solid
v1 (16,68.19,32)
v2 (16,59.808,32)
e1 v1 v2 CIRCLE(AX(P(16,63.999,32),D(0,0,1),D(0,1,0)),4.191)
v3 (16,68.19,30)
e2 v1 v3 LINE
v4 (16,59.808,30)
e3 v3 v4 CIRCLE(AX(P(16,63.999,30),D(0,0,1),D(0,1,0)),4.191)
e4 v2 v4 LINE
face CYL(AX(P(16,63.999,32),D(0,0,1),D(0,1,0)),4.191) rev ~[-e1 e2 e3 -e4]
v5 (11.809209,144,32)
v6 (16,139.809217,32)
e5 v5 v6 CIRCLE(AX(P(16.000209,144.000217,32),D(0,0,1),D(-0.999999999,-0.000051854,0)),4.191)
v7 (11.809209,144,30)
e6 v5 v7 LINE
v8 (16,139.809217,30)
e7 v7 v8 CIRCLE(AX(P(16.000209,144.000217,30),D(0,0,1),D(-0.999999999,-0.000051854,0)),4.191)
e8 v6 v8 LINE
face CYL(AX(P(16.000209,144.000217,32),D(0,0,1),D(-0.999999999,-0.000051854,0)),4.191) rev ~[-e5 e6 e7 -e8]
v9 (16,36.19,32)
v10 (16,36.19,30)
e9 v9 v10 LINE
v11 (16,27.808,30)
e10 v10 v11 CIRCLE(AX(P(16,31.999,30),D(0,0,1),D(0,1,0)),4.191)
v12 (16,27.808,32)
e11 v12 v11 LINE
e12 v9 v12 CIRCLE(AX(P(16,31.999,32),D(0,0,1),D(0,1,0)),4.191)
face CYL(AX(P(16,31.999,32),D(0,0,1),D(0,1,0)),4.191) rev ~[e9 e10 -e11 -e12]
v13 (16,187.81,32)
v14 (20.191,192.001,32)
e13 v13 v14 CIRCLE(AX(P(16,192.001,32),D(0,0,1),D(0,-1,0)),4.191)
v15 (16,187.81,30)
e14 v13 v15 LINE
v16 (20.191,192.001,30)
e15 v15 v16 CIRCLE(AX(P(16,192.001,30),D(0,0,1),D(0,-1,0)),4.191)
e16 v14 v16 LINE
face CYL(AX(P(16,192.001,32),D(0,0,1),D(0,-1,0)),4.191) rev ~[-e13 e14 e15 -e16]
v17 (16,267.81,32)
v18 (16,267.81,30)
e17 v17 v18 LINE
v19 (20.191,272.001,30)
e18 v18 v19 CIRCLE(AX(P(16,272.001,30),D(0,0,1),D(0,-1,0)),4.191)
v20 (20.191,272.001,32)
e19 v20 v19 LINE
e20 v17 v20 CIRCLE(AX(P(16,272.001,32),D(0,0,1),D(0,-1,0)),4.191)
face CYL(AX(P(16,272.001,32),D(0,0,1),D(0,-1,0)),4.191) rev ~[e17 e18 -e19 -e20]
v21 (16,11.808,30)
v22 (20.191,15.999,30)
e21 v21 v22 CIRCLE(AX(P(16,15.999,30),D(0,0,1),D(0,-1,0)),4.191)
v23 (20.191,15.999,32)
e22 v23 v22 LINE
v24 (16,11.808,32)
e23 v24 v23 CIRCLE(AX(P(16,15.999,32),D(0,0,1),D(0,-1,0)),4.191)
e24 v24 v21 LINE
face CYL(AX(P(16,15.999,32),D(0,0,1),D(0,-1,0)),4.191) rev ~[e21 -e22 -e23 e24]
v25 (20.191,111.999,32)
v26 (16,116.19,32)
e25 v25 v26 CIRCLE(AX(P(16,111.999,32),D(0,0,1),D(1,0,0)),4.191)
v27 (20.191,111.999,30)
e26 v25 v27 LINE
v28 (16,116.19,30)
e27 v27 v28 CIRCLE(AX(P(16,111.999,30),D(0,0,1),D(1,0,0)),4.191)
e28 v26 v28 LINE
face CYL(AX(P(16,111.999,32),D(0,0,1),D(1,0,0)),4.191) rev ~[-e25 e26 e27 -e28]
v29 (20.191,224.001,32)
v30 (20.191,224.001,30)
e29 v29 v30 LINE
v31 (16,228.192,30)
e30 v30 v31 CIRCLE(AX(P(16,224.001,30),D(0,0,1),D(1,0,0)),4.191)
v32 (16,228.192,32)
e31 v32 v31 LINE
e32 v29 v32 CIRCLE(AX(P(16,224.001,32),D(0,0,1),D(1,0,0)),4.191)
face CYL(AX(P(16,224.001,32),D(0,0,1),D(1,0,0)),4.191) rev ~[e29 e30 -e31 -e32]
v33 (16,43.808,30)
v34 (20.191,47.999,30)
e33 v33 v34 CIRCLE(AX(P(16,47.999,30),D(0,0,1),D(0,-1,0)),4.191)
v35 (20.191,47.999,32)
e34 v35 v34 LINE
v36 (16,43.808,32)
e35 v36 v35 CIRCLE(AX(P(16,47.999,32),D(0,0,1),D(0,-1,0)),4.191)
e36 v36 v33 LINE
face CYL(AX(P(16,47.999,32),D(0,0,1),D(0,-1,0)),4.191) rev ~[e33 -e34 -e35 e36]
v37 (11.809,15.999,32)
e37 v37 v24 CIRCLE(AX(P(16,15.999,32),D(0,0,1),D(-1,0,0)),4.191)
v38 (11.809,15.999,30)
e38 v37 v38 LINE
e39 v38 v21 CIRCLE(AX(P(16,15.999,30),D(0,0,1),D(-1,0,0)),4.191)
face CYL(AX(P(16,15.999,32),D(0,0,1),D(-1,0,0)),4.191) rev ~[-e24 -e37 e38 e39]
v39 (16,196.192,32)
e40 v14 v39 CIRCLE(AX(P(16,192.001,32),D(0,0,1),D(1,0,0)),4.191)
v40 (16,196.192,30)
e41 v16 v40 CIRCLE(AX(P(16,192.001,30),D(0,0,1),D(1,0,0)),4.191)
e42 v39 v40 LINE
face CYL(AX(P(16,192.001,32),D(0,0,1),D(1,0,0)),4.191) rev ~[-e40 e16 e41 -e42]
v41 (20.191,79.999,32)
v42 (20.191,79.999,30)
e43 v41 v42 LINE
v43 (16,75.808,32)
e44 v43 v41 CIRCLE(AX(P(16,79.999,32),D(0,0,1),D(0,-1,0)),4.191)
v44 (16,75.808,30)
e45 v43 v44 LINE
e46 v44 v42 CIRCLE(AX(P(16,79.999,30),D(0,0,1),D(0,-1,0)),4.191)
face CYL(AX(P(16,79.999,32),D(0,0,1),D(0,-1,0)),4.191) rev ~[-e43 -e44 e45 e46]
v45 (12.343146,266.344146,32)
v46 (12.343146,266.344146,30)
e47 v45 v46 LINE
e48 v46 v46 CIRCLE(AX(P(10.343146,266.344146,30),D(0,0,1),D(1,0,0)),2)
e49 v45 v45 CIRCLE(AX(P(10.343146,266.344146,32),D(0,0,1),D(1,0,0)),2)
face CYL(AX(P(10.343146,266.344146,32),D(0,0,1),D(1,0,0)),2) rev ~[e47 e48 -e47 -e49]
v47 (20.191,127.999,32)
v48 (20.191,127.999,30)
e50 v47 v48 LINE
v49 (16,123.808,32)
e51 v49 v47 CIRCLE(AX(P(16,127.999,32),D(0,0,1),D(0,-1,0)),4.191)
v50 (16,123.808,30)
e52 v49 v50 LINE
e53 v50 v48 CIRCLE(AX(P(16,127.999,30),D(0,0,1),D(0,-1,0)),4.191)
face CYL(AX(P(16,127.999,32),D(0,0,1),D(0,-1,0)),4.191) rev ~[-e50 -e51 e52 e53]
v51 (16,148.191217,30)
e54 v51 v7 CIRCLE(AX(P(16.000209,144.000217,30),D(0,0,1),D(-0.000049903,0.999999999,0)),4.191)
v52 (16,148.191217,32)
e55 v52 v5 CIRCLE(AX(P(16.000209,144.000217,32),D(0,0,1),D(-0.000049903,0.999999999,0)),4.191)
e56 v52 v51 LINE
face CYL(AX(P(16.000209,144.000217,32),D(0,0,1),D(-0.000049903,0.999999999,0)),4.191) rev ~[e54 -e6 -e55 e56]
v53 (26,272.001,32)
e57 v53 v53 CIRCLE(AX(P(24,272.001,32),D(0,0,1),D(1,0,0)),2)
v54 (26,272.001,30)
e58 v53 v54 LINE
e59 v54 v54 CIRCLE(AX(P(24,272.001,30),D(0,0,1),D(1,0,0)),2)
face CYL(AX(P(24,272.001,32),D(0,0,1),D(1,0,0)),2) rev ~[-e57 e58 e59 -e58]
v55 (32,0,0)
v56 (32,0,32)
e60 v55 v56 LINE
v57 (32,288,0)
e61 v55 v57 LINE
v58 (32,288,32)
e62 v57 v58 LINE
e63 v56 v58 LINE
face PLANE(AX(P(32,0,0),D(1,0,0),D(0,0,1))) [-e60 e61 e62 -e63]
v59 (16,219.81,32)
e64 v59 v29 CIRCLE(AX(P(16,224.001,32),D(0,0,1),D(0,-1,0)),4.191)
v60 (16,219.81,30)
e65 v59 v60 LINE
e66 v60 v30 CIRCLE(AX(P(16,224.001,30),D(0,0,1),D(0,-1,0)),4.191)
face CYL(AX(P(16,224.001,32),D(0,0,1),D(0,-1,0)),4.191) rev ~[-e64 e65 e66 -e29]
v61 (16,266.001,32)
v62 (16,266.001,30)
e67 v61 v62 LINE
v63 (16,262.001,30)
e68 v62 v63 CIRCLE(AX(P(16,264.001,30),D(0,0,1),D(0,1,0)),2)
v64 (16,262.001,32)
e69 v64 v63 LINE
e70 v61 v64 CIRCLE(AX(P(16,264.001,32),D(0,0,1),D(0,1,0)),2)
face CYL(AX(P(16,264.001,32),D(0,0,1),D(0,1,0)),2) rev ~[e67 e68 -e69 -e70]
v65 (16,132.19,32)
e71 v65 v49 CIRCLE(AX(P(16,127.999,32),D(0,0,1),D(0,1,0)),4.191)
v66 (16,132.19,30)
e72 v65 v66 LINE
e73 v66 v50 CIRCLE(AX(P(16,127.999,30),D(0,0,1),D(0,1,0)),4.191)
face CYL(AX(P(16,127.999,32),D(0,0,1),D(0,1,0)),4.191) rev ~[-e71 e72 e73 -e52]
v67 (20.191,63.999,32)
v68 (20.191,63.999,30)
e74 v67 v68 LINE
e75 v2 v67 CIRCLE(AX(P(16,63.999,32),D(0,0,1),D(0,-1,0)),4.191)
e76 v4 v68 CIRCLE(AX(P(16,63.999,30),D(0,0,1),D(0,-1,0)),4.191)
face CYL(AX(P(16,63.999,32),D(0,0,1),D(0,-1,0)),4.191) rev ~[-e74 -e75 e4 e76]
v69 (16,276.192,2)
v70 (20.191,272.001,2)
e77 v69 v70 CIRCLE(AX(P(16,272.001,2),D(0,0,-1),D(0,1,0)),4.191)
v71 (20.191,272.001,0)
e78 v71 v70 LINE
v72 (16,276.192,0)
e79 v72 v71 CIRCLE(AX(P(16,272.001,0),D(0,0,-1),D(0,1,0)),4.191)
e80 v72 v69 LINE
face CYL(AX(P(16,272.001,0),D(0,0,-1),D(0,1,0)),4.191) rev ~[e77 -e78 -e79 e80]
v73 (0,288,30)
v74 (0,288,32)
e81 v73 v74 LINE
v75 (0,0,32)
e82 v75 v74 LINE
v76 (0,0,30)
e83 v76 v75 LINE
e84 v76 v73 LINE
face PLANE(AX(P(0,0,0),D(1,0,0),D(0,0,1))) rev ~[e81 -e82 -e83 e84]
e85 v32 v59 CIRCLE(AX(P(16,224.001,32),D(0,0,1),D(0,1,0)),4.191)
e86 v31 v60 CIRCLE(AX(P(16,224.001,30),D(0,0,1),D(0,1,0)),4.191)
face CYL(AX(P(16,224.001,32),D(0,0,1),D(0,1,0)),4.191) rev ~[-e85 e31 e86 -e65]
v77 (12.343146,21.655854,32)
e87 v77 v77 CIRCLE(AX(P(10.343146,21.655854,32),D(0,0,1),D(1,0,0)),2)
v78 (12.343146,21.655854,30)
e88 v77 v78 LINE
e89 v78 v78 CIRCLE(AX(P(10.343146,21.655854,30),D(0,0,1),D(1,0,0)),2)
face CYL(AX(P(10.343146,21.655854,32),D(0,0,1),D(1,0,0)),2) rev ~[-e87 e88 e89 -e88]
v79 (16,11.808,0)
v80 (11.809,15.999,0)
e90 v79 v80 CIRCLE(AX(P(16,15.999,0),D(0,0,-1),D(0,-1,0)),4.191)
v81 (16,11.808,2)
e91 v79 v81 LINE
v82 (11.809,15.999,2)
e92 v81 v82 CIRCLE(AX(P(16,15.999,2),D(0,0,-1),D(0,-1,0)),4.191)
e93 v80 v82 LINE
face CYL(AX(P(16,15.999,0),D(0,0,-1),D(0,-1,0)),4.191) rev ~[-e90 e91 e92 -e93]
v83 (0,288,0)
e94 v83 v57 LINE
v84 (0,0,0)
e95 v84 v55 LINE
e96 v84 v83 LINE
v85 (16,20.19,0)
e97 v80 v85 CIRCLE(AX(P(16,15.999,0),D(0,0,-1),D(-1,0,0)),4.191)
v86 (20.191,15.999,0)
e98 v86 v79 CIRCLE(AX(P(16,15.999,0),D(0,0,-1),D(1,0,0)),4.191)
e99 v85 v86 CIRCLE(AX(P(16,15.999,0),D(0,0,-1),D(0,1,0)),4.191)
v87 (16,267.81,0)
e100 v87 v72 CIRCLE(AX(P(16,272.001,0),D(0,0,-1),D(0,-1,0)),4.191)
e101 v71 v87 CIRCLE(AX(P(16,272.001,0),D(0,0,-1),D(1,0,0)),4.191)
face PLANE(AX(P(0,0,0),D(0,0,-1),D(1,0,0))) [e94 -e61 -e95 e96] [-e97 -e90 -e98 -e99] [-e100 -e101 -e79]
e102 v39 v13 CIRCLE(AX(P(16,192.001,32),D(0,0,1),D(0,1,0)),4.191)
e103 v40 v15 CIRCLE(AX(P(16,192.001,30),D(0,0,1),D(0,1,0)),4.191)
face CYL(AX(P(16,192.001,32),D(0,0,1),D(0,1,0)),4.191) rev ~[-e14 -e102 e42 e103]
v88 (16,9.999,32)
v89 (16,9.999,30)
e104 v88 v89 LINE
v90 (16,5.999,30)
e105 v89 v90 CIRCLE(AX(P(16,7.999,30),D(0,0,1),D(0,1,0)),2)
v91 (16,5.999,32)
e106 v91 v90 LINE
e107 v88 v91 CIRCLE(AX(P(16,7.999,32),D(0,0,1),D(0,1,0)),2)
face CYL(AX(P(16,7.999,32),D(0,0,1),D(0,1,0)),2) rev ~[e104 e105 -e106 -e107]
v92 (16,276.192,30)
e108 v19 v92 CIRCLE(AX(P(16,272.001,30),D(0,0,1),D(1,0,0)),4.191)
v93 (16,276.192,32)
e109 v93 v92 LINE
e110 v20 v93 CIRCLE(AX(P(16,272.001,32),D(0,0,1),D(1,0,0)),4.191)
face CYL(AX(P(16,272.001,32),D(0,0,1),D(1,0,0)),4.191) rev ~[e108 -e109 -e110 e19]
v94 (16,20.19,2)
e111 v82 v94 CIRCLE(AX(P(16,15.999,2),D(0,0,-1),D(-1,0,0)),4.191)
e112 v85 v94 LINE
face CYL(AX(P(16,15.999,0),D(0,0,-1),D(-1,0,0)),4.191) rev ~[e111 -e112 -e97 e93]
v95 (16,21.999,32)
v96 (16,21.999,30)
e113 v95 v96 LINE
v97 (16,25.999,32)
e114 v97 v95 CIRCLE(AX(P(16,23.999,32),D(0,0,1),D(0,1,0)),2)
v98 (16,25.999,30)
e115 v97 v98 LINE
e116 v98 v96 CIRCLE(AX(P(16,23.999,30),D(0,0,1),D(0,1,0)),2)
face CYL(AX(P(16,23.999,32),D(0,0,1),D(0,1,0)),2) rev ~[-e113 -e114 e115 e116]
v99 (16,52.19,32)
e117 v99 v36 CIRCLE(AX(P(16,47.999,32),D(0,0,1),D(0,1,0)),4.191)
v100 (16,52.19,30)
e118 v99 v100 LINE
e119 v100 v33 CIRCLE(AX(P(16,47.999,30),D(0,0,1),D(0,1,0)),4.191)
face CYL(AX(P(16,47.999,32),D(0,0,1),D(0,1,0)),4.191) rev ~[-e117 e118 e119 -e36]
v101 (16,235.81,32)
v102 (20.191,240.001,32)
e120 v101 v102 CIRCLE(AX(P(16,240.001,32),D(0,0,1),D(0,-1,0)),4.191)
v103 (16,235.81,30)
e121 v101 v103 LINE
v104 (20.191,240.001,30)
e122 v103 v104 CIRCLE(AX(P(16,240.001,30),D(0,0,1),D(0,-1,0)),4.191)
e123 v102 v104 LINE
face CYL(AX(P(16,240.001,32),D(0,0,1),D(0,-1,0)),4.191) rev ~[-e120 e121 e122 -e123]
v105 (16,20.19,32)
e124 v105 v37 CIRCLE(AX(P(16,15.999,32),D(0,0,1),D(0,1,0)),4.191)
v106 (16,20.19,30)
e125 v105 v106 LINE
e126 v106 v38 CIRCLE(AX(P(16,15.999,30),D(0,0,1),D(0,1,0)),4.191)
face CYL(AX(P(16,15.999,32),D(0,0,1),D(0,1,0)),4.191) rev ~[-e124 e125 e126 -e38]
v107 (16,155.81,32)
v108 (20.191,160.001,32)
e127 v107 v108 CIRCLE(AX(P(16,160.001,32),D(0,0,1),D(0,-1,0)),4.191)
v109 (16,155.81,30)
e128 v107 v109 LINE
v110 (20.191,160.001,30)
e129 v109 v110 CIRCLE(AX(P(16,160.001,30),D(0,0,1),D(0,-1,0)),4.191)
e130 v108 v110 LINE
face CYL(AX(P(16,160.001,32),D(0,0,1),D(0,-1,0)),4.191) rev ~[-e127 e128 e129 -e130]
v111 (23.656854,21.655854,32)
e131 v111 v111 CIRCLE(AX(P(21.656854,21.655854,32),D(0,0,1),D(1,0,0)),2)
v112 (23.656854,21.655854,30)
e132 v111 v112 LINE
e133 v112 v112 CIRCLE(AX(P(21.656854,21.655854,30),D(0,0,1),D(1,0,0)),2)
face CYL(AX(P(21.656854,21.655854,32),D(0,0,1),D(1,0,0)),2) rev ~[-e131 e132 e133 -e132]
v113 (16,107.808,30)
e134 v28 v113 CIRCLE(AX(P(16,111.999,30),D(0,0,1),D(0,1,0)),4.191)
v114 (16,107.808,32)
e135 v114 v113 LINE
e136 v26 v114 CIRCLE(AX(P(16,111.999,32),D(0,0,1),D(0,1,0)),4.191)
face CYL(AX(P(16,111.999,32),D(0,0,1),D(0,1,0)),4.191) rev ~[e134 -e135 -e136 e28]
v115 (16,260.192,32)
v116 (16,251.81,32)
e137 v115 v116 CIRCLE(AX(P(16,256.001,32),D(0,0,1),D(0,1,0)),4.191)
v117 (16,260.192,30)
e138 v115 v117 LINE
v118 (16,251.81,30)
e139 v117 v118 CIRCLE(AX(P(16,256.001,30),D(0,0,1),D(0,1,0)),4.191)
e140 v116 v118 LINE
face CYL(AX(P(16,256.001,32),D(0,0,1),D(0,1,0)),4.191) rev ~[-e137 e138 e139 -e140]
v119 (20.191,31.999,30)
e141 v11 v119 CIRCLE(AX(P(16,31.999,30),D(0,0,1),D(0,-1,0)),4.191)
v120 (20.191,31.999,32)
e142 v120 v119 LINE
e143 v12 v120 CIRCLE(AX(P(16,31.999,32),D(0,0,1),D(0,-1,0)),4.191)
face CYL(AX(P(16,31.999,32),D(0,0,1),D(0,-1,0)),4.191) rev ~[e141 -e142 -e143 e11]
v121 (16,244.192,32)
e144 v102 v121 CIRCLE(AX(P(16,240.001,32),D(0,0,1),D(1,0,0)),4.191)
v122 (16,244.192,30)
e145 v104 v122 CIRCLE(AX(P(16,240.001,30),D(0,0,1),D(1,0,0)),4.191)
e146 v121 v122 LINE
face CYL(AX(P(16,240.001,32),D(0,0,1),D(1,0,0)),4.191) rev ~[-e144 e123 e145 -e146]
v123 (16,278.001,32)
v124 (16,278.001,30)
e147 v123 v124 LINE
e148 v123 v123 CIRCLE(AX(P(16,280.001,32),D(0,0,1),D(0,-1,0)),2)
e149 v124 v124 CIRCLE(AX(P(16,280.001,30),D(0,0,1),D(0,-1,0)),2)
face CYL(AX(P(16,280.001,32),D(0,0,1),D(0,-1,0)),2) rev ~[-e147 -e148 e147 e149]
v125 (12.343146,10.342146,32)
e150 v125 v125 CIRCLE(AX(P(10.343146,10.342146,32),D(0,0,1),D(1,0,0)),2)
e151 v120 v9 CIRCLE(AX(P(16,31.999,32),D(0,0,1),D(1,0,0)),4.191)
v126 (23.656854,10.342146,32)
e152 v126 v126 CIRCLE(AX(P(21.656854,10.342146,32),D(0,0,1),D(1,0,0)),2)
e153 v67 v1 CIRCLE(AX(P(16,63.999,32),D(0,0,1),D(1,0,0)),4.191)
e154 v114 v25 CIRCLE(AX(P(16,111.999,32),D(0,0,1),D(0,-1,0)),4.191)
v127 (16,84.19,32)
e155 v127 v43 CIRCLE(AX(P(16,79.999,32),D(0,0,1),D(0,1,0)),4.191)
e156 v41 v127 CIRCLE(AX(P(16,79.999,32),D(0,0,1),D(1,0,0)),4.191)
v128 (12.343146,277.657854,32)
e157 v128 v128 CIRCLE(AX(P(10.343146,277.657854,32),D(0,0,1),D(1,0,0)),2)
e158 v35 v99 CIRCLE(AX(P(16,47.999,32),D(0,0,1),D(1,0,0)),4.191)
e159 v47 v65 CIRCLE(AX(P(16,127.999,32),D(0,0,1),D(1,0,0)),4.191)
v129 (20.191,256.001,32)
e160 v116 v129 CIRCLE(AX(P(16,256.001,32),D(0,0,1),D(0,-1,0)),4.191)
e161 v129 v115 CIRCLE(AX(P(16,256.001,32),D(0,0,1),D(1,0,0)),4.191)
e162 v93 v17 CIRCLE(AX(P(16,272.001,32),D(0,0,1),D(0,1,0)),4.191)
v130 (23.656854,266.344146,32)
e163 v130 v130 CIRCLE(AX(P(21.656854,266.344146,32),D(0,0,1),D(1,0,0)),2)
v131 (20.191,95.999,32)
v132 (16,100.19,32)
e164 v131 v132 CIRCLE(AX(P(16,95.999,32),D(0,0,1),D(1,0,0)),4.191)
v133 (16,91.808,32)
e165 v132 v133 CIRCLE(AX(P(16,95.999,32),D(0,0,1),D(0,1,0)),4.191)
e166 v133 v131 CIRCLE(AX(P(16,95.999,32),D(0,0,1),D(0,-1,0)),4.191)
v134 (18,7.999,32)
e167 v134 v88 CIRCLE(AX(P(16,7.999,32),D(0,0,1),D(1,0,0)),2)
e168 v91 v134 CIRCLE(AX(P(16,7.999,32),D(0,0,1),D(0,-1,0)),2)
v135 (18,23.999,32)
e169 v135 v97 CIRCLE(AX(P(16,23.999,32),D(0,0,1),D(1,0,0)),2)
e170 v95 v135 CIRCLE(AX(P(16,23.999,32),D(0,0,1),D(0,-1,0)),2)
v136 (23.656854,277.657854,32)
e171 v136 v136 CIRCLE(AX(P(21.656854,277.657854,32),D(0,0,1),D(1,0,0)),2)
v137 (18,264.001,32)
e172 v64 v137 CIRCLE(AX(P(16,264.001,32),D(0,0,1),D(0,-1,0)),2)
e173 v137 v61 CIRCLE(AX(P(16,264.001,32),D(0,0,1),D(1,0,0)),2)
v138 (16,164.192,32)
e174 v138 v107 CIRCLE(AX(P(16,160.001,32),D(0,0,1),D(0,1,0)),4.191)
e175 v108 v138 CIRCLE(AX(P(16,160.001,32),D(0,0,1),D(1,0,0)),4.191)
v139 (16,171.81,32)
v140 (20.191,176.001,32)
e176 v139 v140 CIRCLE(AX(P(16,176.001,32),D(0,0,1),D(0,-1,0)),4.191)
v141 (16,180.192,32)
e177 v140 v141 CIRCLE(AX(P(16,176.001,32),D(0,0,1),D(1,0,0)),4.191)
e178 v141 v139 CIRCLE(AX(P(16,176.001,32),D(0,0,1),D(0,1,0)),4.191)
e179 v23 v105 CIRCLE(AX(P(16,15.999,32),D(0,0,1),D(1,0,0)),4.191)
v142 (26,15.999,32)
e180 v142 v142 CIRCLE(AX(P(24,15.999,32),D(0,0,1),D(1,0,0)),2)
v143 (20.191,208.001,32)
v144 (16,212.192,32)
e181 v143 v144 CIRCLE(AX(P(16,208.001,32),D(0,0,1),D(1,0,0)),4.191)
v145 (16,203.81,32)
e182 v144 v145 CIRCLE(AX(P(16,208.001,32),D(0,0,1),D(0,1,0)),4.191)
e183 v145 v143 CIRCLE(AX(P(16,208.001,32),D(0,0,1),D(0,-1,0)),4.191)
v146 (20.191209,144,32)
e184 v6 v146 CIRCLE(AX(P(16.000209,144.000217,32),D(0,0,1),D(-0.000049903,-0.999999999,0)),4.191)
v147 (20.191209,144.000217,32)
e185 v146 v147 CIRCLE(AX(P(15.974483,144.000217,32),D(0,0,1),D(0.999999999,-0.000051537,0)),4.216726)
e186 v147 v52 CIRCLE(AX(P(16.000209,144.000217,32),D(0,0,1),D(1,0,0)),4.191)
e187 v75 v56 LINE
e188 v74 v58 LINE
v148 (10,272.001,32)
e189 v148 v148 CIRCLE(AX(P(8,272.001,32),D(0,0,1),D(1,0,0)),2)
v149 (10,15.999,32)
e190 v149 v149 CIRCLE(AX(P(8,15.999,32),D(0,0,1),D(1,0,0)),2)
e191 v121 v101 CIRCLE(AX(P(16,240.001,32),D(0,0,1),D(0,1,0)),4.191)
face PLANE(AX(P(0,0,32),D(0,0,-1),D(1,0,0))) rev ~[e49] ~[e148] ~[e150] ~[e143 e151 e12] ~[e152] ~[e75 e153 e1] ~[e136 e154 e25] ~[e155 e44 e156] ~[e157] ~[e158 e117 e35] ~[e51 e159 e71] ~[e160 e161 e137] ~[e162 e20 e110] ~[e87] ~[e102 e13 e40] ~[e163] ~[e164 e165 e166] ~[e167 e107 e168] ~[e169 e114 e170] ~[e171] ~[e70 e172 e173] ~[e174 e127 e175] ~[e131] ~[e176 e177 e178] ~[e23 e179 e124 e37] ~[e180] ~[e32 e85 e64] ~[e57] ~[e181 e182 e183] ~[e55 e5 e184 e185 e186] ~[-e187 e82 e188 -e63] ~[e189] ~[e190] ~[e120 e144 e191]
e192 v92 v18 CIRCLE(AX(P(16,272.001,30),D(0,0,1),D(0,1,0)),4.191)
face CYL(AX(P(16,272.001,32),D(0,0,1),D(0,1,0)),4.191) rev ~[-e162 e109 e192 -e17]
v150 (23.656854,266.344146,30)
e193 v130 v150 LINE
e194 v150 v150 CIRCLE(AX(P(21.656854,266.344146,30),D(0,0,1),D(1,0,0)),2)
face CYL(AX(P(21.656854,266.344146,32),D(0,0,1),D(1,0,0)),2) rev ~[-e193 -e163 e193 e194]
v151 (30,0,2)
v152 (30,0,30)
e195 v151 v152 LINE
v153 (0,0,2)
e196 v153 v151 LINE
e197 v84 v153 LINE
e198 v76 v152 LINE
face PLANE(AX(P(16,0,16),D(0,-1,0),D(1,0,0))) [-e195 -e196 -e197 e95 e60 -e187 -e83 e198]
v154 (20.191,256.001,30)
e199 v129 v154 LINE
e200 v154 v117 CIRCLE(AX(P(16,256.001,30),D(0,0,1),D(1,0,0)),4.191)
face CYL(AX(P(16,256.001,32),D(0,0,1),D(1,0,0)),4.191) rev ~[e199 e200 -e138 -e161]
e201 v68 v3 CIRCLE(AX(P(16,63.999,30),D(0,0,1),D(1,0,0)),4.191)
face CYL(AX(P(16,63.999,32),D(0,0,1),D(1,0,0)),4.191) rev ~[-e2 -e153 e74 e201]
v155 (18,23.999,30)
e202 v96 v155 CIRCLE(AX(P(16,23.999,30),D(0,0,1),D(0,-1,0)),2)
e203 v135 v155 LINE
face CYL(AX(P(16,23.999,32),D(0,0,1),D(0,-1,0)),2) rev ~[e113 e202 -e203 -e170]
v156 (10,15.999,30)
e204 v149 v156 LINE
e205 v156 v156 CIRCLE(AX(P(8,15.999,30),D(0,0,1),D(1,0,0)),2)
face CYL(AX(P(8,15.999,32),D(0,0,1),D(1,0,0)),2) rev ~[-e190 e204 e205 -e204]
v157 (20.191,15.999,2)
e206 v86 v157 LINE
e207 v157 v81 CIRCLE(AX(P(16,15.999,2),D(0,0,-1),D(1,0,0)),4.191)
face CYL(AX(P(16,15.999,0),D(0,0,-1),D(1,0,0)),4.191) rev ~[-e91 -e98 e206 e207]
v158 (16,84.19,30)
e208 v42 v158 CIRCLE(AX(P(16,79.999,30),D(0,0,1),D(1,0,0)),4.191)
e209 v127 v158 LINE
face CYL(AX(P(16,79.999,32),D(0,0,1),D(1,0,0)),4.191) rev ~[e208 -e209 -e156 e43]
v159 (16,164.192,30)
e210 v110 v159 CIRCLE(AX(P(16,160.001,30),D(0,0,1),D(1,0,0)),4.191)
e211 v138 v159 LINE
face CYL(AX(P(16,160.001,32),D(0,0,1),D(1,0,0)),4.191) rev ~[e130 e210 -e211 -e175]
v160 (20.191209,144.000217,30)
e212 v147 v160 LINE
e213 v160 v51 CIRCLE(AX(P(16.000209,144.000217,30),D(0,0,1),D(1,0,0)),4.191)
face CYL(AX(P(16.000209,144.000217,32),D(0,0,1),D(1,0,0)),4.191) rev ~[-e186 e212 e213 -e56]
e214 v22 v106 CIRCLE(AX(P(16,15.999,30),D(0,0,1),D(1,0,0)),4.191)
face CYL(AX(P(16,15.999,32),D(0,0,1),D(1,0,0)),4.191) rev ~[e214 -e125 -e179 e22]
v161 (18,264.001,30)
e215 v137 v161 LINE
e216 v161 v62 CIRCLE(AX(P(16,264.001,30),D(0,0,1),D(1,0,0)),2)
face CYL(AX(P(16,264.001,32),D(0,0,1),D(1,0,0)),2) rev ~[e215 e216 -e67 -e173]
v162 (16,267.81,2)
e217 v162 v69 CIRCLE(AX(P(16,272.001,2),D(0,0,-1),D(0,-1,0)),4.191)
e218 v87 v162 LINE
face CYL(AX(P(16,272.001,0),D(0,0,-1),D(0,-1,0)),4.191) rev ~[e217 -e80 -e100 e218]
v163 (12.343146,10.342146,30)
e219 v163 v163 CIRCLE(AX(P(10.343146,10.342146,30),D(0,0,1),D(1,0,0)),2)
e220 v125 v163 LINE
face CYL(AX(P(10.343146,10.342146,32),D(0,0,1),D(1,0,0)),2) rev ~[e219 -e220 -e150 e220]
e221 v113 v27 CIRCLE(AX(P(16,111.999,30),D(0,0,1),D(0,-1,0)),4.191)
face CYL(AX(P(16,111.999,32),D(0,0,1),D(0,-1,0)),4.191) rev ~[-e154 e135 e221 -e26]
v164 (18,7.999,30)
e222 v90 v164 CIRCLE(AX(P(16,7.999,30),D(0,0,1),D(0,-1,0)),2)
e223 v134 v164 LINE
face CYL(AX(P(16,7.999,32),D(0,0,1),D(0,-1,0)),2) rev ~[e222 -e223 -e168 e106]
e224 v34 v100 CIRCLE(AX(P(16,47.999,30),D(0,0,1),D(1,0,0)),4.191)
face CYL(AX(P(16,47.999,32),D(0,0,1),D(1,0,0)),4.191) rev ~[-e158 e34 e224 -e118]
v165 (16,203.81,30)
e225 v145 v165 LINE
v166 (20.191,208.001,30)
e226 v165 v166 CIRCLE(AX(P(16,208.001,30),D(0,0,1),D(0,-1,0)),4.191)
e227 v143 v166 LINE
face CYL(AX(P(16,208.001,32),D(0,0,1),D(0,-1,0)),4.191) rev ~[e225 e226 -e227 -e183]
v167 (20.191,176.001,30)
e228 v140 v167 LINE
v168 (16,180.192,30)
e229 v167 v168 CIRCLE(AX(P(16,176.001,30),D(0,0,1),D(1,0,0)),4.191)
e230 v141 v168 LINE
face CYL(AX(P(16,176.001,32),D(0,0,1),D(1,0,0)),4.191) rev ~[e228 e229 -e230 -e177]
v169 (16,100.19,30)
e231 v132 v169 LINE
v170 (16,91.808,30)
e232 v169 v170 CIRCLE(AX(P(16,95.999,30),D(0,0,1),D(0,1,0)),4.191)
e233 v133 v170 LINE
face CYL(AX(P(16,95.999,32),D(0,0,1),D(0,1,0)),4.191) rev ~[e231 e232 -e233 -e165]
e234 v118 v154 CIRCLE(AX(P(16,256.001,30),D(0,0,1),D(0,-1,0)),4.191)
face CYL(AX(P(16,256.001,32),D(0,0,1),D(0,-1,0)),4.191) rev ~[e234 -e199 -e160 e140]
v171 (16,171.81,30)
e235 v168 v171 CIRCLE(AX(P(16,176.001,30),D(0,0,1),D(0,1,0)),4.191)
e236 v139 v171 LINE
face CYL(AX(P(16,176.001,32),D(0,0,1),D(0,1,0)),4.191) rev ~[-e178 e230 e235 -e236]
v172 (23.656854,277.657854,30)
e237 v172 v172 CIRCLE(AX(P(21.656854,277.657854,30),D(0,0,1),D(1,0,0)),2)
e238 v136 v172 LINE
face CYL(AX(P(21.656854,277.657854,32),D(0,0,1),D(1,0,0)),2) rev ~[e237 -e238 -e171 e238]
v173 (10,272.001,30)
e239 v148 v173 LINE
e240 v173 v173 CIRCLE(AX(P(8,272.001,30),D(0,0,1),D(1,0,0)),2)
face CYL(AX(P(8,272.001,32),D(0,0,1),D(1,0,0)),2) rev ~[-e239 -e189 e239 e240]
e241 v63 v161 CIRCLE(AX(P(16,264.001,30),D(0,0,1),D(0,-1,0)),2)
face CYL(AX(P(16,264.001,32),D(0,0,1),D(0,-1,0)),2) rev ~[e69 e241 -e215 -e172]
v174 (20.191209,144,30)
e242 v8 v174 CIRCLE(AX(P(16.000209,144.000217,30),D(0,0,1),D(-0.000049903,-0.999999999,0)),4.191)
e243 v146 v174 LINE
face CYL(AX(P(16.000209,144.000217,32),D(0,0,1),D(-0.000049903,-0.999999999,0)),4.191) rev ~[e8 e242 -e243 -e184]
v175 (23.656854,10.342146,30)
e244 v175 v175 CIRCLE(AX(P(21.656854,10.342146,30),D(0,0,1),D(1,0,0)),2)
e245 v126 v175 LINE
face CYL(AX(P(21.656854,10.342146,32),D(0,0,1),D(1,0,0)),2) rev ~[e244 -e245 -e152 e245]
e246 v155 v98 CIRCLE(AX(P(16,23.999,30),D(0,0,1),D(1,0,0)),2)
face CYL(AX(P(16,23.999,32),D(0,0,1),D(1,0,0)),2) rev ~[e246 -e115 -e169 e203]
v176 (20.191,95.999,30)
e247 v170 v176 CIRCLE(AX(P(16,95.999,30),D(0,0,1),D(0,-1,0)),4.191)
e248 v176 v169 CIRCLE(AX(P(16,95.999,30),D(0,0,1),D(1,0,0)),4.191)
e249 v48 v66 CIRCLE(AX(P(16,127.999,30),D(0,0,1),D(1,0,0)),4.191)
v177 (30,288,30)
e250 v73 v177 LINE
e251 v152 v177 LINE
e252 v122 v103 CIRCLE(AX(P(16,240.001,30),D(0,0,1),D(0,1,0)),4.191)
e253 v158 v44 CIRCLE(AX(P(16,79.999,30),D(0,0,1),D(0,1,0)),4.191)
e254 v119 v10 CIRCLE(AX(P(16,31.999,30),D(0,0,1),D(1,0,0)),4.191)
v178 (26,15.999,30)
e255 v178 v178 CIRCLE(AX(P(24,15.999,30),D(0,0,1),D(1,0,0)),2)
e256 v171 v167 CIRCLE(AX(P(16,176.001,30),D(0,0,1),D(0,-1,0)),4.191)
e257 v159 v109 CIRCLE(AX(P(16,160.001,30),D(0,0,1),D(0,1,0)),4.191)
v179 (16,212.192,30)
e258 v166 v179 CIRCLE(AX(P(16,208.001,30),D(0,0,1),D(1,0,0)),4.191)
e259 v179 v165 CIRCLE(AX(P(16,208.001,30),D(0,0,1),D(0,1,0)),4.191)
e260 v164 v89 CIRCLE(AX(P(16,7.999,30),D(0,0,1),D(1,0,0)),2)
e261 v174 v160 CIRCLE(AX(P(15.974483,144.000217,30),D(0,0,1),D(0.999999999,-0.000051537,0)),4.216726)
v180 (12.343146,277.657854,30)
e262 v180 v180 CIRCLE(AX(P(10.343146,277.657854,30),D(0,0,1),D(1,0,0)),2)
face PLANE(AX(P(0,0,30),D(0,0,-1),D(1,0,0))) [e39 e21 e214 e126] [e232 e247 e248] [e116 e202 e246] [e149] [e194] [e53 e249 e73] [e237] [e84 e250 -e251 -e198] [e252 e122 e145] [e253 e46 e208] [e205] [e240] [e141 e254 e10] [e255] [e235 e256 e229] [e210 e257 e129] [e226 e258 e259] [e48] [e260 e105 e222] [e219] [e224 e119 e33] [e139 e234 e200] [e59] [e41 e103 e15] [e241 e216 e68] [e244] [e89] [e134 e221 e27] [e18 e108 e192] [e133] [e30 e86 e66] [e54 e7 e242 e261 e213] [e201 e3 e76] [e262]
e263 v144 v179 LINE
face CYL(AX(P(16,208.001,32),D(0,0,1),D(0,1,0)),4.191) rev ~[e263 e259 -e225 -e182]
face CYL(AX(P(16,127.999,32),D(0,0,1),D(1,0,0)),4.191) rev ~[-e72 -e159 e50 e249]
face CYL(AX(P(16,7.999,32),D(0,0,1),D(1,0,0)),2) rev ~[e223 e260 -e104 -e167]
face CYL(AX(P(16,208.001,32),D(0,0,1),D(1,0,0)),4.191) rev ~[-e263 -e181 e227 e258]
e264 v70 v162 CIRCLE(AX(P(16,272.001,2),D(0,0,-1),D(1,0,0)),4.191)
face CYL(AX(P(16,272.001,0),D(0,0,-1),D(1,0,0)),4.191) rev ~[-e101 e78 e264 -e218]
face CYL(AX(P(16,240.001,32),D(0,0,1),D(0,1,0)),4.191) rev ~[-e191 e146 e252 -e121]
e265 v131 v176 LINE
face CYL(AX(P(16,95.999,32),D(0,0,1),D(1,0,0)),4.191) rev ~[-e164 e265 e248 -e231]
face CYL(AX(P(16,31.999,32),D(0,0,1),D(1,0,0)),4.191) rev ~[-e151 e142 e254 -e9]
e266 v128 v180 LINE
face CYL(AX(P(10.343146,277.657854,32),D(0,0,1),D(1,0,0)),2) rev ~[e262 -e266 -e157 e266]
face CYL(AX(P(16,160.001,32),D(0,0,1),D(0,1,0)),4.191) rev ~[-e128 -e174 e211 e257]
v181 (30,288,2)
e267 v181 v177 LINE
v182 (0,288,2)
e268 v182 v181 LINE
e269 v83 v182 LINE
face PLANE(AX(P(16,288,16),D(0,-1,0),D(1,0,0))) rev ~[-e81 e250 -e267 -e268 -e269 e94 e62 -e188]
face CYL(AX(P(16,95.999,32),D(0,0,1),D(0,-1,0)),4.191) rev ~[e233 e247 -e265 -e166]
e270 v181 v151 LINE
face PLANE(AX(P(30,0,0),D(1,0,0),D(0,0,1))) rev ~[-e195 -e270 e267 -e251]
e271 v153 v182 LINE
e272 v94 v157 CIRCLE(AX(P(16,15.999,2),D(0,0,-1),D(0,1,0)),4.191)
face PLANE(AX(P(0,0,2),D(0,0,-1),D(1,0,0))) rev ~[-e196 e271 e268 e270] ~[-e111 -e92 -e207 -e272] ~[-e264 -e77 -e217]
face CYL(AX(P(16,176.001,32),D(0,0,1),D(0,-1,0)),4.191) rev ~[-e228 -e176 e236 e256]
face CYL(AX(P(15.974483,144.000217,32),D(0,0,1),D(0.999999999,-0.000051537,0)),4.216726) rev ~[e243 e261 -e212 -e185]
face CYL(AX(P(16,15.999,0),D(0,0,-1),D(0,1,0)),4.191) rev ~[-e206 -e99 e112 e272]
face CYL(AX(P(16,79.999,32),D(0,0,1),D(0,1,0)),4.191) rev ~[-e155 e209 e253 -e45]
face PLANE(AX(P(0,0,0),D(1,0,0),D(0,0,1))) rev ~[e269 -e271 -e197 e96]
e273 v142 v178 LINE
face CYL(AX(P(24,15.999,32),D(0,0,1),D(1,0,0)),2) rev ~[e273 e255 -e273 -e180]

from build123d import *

# Parameters (mm, degrees)
F0_W     = 32
F0_H     = 32
F1_DEPTH = 288
F2_T     = -2
F4_DEPTH = 2
F5_R     = 2
F6_DEPTH = 2


with BuildPart() as f1:
    # F0 (on Front) → F1 (new body)
    with BuildSketch(Plane.XZ):
        with Locations((16, 16)):
            Rectangle(F0_W, F0_H)
    extrude(amount=-F1_DEPTH)

    # F2
    f2_openings = [f1.faces().sort_by_distance(p)[0] for p in [
        (0, 144, 16),
        (16, 0, 16),
        (16, 288, 16),
    ]]
    offset(amount=F2_T, openings=f2_openings)

    # F3 (on face) → F4 (cut, through all)
    with BuildSketch(Plane(origin=(0, 0, 0), x_dir=(1, 0, 0), z_dir=(0, 0, -1))):
        with BuildLine():
            Line((20.191, -15.999), (16, -15.999))
            Line((16, -15.999), (16, -20.19))
            ThreePointArc((16, -20.19), (18.96348452, -18.96248452), (20.191, -15.999))
        make_face()
        with BuildLine():
            ThreePointArc((20.191, -15.999), (18.96348452, -13.03551548), (16, -11.808))
            Line((16, -11.808), (16, -15.999))
            Line((16, -15.999), (20.191, -15.999))
        make_face()
        with BuildLine():
            Line((16, -15.999), (16, -11.808))
            ThreePointArc((16, -11.808), (13.03651548, -13.03551548), (11.809, -15.999))
            Line((11.809, -15.999), (16, -15.999))
        make_face()
        with BuildLine():
            Line((16, -15.999), (11.809, -15.999))
            ThreePointArc((11.809, -15.999), (13.03651548, -18.96248452), (16, -20.19))
            Line((16, -20.19), (16, -15.999))
        make_face()
        with BuildLine():
            ThreePointArc((20.191, -272.001), (18.96348452, -269.03751548), (16, -267.81))
            Line((16, -267.81), (16, -276.192))
            ThreePointArc((16, -276.192), (18.96348452, -274.96448452), (20.191, -272.001))
        make_face()
        with BuildLine():
            Line((16, -276.192), (16, -267.81))
            ThreePointArc((16, -267.81), (11.809, -272.001), (16, -276.192))
        make_face()
    extrude(amount=-F4_DEPTH, mode=Mode.SUBTRACT)

    # F5 (on face) → F6 (cut, through all)
    with BuildSketch(Plane.XY.offset(32)):
        with BuildLine():
            Line((16, 47.999), (16, 43.808))
            ThreePointArc((16, 43.808), (18.96348452, 45.03551548), (20.191, 47.999))
            ThreePointArc((20.191, 47.999), (18.96348452, 50.96248452), (16, 52.19))
            Line((16, 52.19), (16, 47.999))
        make_face()
        with BuildLine():
            ThreePointArc((16, 52.19), (11.809, 47.999), (16, 43.808))
            Line((16, 43.808), (16, 47.999))
            Line((16, 47.999), (16, 52.19))
        make_face()
        with BuildLine():
            Line((16, 31.999), (16, 27.808))
            ThreePointArc((16, 27.808), (18.96348452, 29.03551548), (20.191, 31.999))
            ThreePointArc((20.191, 31.999), (18.96348452, 34.96248452), (16, 36.19))
            Line((16, 36.19), (16, 31.999))
        make_face()
        with BuildLine():
            ThreePointArc((16, 36.19), (11.809, 31.999), (16, 27.808))
            Line((16, 27.808), (16, 31.999))
            Line((16, 31.999), (16, 36.19))
        make_face()
        with BuildLine():
            Line((16, 23.999), (16, 21.999))
            ThreePointArc((16, 21.999), (17.4142135624, 22.5847864376), (18, 23.999))
            ThreePointArc((18, 23.999), (17.4142135624, 25.4132135624), (16, 25.999))
            Line((16, 25.999), (16, 23.999))
        make_face()
        with BuildLine():
            ThreePointArc((16, 25.999), (14, 23.999), (16, 21.999))
            Line((16, 21.999), (16, 23.999))
            Line((16, 23.999), (16, 25.999))
        make_face()
        with BuildLine():
            Line((16, 15.999), (20.191, 15.999))
            ThreePointArc((20.191, 15.999), (18.96348452, 18.96248452), (16, 20.19))
            Line((16, 20.19), (16, 15.999))
        make_face()
        with BuildLine():
            ThreePointArc((22, 15.999), (24, 13.999), (26, 15.999))
            Line((26, 15.999), (22, 15.999))
        make_face()
        with BuildLine():
            Line((22, 15.999), (26, 15.999))
            ThreePointArc((26, 15.999), (24, 17.999), (22, 15.999))
        make_face()
        with Locations((21.6568542495, 21.6558542495)):
            Circle(F5_R)
        with BuildLine():
            ThreePointArc((16, 11.808), (18.96348452, 13.03551548), (20.191, 15.999))
            Line((20.191, 15.999), (16, 15.999))
            Line((16, 15.999), (16, 11.808))
        make_face()
        with Locations((10.3431457505, 21.6558542495)):
            Circle(F5_R)
        with BuildLine():
            Line((10, 15.999), (6, 15.999))
            ThreePointArc((6, 15.999), (8, 13.999), (10, 15.999))
        make_face()
        with BuildLine():
            ThreePointArc((10, 15.999), (8, 17.999), (6, 15.999))
            Line((6, 15.999), (10, 15.999))
        make_face()
        with Locations((10.3431457505, 10.3421457505)):
            Circle(F5_R)
        with BuildLine():
            Line((16, 9.999), (16, 5.999))
            ThreePointArc((16, 5.999), (17.4142135624, 6.5847864376), (18, 7.999))
            ThreePointArc((18, 7.999), (17.4142135624, 9.4132135624), (16, 9.999))
        make_face()
        with BuildLine():
            ThreePointArc((16, 9.999), (14, 7.999), (16, 5.999))
            Line((16, 5.999), (16, 9.999))
        make_face()
        with Locations((21.6568542495, 10.3421457505)):
            Circle(F5_R)
        with BuildLine():
            Line((16, 79.999), (16, 84.19))
            ThreePointArc((16, 84.19), (11.809, 79.999), (16, 75.808))
            Line((16, 75.808), (16, 79.999))
        make_face()
        with BuildLine():
            ThreePointArc((16, 68.19), (11.809, 63.999), (16, 59.808))
            Line((16, 59.808), (16, 63.999))
            Line((16, 63.999), (16, 68.19))
        make_face()
        with BuildLine():
            ThreePointArc((20.191, 79.999), (18.96348452, 82.96248452), (16, 84.19))
            Line((16, 84.19), (16, 79.999))
            Line((16, 79.999), (16, 75.808))
            ThreePointArc((16, 75.808), (18.96348452, 77.03551548), (20.191, 79.999))
        make_face()
        with BuildLine():
            Line((16, 63.999), (16, 59.808))
            ThreePointArc((16, 59.808), (18.96348452, 61.03551548), (20.191, 63.999))
            ThreePointArc((20.191, 63.999), (18.96348452, 66.96248452), (16, 68.19))
            Line((16, 68.19), (16, 63.999))
        make_face()
        with BuildLine():
            ThreePointArc((20.191, 95.999), (18.96348452, 98.96248452), (16, 100.19))
            Line((16, 100.19), (16, 95.999))
            Line((16, 95.999), (16, 91.808))
            ThreePointArc((16, 91.808), (18.96348452, 93.03551548), (20.191, 95.999))
        make_face()
        with BuildLine():
            Line((16, 95.999), (16, 100.19))
            ThreePointArc((16, 100.19), (11.809, 95.999), (16, 91.808))
            Line((16, 91.808), (16, 95.999))
        make_face()
        with BuildLine():
            Line((16, 111.999), (16, 116.19))
            ThreePointArc((16, 116.19), (11.809, 111.999), (16, 107.808))
            Line((16, 107.808), (16, 111.999))
        make_face()
        with BuildLine():
            ThreePointArc((20.191, 111.999), (18.96348452, 114.96248452), (16, 116.19))
            Line((16, 116.19), (16, 111.999))
            Line((16, 111.999), (16, 107.808))
            ThreePointArc((16, 107.808), (18.96348452, 109.03551548), (20.191, 111.999))
        make_face()
        with BuildLine():
            ThreePointArc((20.191, 127.999), (18.96348452, 130.96248452), (16, 132.19))
            Line((16, 132.19), (16, 127.999))
            Line((16, 127.999), (16, 123.808))
            ThreePointArc((16, 123.808), (18.96348452, 125.03551548), (20.191, 127.999))
        make_face()
        with BuildLine():
            Line((16, 127.999), (16, 132.19))
            ThreePointArc((16, 132.19), (11.809, 127.999), (16, 123.808))
            Line((16, 123.808), (16, 127.999))
        make_face()
        with BuildLine():
            ThreePointArc((16, 148.1912173133), (13.0365738502, 146.9635510576), (11.809209149, 144))
            Line((11.809209149, 144), (16, 144))
            Line((16, 144), (16, 148.1912173133))
        make_face()
        with BuildLine():
            Line((16, 144), (20.1912091378, 144))
            ThreePointArc((20.1912091378, 144), (20.191209142, 144.0001086593), (20.1912091434, 144.0002173185))
            ThreePointArc((20.1912091434, 144.0002173185), (18.9636197191, 146.9637757809), (16, 148.1912173133))
            Line((16, 148.1912173133), (16, 144))
        make_face()
        with BuildLine():
            ThreePointArc((16, 139.8092173238), (18.9635428824, 141.0365820254), (20.1912091378, 144))
            Line((20.1912091378, 144), (16, 144))
            Line((16, 144), (16, 139.8092173238))
        make_face()
        with BuildLine():
            Line((16, 144), (11.809209149, 144))
            ThreePointArc((11.809209149, 144), (13.0367275138, 141.0367299082), (16, 139.8092173238))
            Line((16, 139.8092173238), (16, 144))
        make_face()
        with BuildLine():
            ThreePointArc((20.191, 160.001), (18.96348452, 162.96448452), (16, 164.192))
            Line((16, 164.192), (16, 155.81))
            ThreePointArc((16, 155.81), (18.96348452, 157.03751548), (20.191, 160.001))
        make_face()
        with BuildLine():
            Line((16, 155.81), (16, 164.192))
            ThreePointArc((16, 164.192), (11.809, 160.001), (16, 155.81))
        make_face()
        with BuildLine():
            ThreePointArc((20.191, 176.001), (18.96348452, 178.96448452), (16, 180.192))
            Line((16, 180.192), (16, 171.81))
            ThreePointArc((16, 171.81), (18.96348452, 173.03751548), (20.191, 176.001))
        make_face()
        with BuildLine():
            Line((16, 171.81), (16, 180.192))
            ThreePointArc((16, 180.192), (11.809, 176.001), (16, 171.81))
        make_face()
        with BuildLine():
            Line((16, 187.81), (16, 196.192))
            ThreePointArc((16, 196.192), (11.809, 192.001), (16, 187.81))
        make_face()
        with BuildLine():
            ThreePointArc((20.191, 192.001), (18.96348452, 194.96448452), (16, 196.192))
            Line((16, 196.192), (16, 187.81))
            ThreePointArc((16, 187.81), (18.96348452, 189.03751548), (20.191, 192.001))
        make_face()
        with BuildLine():
            Line((16, 203.81), (16, 212.192))
            ThreePointArc((16, 212.192), (11.809, 208.001), (16, 203.81))
        make_face()
        with BuildLine():
            ThreePointArc((20.191, 208.001), (18.96348452, 210.96448452), (16, 212.192))
            Line((16, 212.192), (16, 203.81))
            ThreePointArc((16, 203.81), (18.96348452, 205.03751548), (20.191, 208.001))
        make_face()
        with BuildLine():
            Line((16, 219.81), (16, 228.192))
            ThreePointArc((16, 228.192), (11.809, 224.001), (16, 219.81))
        make_face()
        with BuildLine():
            ThreePointArc((20.191, 224.001), (18.96348452, 226.96448452), (16, 228.192))
            Line((16, 228.192), (16, 219.81))
            ThreePointArc((16, 219.81), (18.96348452, 221.03751548), (20.191, 224.001))
        make_face()
        with BuildLine():
            Line((16, 235.81), (16, 244.192))
            ThreePointArc((16, 244.192), (11.809, 240.001), (16, 235.81))
        make_face()
        with BuildLine():
            ThreePointArc((20.191, 240.001), (18.96348452, 242.96448452), (16, 244.192))
            Line((16, 244.192), (16, 235.81))
            ThreePointArc((16, 235.81), (18.96348452, 237.03751548), (20.191, 240.001))
        make_face()
        with BuildLine():
            Line((16, 251.81), (16, 260.192))
            ThreePointArc((16, 260.192), (11.809, 256.001), (16, 251.81))
        make_face()
        with BuildLine():
            ThreePointArc((20.191, 256.001), (18.96348452, 258.96448452), (16, 260.192))
            Line((16, 260.192), (16, 251.81))
            ThreePointArc((16, 251.81), (18.96348452, 253.03751548), (20.191, 256.001))
        make_face()
        with BuildLine():
            Line((16, 276.192), (16, 267.81))
            ThreePointArc((16, 267.81), (18.96348452, 269.03751548), (20.191, 272.001))
            ThreePointArc((20.191, 272.001), (18.96348452, 274.96448452), (16, 276.192))
        make_face()
        with BuildLine():
            ThreePointArc((16, 276.192), (11.809, 272.001), (16, 267.81))
            Line((16, 267.81), (16, 276.192))
        make_face()
        with BuildLine():
            ThreePointArc((16, 20.19), (13.03651548, 18.96248452), (11.809, 15.999))
            Line((11.809, 15.999), (16, 15.999))
            Line((16, 15.999), (16, 20.19))
        make_face()
        with BuildLine():
            Line((16, 15.999), (11.809, 15.999))
            ThreePointArc((11.809, 15.999), (13.03651548, 13.03551548), (16, 11.808))
            Line((16, 11.808), (16, 15.999))
        make_face()
        with Locations((21.6568542495, 266.3441457505)):
            Circle(F5_R)
        with Locations((21.6568542495, 277.6578542495)):
            Circle(F5_R)
        with Locations((24, 272.001)):
            Circle(F5_R)
        with BuildLine():
            ThreePointArc((16, 266.001), (14, 264.001), (16, 262.001))
            Line((16, 262.001), (16, 266.001))
        make_face()
        with BuildLine():
            Line((16, 266.001), (16, 262.001))
            ThreePointArc((16, 262.001), (17.4142135624, 262.5867864376), (18, 264.001))
            ThreePointArc((18, 264.001), (17.4142135624, 265.4152135624), (16, 266.001))
        make_face()
        with BuildLine():
            ThreePointArc((16, 282.001), (14, 280.001), (16, 278.001))
            Line((16, 278.001), (16, 282.001))
        make_face()
        with BuildLine():
            Line((16, 282.001), (16, 278.001))
            ThreePointArc((16, 278.001), (18, 280.001), (16, 282.001))
        make_face()
        with Locations((10.3431457505, 277.6578542495)):
            Circle(F5_R)
        with Locations((8, 272.001)):
            Circle(F5_R)
        with Locations((10.3431457505, 266.3441457505)):
            Circle(F5_R)
    extrude(amount=-F6_DEPTH, mode=Mode.SUBTRACT)


solid = f1.part
